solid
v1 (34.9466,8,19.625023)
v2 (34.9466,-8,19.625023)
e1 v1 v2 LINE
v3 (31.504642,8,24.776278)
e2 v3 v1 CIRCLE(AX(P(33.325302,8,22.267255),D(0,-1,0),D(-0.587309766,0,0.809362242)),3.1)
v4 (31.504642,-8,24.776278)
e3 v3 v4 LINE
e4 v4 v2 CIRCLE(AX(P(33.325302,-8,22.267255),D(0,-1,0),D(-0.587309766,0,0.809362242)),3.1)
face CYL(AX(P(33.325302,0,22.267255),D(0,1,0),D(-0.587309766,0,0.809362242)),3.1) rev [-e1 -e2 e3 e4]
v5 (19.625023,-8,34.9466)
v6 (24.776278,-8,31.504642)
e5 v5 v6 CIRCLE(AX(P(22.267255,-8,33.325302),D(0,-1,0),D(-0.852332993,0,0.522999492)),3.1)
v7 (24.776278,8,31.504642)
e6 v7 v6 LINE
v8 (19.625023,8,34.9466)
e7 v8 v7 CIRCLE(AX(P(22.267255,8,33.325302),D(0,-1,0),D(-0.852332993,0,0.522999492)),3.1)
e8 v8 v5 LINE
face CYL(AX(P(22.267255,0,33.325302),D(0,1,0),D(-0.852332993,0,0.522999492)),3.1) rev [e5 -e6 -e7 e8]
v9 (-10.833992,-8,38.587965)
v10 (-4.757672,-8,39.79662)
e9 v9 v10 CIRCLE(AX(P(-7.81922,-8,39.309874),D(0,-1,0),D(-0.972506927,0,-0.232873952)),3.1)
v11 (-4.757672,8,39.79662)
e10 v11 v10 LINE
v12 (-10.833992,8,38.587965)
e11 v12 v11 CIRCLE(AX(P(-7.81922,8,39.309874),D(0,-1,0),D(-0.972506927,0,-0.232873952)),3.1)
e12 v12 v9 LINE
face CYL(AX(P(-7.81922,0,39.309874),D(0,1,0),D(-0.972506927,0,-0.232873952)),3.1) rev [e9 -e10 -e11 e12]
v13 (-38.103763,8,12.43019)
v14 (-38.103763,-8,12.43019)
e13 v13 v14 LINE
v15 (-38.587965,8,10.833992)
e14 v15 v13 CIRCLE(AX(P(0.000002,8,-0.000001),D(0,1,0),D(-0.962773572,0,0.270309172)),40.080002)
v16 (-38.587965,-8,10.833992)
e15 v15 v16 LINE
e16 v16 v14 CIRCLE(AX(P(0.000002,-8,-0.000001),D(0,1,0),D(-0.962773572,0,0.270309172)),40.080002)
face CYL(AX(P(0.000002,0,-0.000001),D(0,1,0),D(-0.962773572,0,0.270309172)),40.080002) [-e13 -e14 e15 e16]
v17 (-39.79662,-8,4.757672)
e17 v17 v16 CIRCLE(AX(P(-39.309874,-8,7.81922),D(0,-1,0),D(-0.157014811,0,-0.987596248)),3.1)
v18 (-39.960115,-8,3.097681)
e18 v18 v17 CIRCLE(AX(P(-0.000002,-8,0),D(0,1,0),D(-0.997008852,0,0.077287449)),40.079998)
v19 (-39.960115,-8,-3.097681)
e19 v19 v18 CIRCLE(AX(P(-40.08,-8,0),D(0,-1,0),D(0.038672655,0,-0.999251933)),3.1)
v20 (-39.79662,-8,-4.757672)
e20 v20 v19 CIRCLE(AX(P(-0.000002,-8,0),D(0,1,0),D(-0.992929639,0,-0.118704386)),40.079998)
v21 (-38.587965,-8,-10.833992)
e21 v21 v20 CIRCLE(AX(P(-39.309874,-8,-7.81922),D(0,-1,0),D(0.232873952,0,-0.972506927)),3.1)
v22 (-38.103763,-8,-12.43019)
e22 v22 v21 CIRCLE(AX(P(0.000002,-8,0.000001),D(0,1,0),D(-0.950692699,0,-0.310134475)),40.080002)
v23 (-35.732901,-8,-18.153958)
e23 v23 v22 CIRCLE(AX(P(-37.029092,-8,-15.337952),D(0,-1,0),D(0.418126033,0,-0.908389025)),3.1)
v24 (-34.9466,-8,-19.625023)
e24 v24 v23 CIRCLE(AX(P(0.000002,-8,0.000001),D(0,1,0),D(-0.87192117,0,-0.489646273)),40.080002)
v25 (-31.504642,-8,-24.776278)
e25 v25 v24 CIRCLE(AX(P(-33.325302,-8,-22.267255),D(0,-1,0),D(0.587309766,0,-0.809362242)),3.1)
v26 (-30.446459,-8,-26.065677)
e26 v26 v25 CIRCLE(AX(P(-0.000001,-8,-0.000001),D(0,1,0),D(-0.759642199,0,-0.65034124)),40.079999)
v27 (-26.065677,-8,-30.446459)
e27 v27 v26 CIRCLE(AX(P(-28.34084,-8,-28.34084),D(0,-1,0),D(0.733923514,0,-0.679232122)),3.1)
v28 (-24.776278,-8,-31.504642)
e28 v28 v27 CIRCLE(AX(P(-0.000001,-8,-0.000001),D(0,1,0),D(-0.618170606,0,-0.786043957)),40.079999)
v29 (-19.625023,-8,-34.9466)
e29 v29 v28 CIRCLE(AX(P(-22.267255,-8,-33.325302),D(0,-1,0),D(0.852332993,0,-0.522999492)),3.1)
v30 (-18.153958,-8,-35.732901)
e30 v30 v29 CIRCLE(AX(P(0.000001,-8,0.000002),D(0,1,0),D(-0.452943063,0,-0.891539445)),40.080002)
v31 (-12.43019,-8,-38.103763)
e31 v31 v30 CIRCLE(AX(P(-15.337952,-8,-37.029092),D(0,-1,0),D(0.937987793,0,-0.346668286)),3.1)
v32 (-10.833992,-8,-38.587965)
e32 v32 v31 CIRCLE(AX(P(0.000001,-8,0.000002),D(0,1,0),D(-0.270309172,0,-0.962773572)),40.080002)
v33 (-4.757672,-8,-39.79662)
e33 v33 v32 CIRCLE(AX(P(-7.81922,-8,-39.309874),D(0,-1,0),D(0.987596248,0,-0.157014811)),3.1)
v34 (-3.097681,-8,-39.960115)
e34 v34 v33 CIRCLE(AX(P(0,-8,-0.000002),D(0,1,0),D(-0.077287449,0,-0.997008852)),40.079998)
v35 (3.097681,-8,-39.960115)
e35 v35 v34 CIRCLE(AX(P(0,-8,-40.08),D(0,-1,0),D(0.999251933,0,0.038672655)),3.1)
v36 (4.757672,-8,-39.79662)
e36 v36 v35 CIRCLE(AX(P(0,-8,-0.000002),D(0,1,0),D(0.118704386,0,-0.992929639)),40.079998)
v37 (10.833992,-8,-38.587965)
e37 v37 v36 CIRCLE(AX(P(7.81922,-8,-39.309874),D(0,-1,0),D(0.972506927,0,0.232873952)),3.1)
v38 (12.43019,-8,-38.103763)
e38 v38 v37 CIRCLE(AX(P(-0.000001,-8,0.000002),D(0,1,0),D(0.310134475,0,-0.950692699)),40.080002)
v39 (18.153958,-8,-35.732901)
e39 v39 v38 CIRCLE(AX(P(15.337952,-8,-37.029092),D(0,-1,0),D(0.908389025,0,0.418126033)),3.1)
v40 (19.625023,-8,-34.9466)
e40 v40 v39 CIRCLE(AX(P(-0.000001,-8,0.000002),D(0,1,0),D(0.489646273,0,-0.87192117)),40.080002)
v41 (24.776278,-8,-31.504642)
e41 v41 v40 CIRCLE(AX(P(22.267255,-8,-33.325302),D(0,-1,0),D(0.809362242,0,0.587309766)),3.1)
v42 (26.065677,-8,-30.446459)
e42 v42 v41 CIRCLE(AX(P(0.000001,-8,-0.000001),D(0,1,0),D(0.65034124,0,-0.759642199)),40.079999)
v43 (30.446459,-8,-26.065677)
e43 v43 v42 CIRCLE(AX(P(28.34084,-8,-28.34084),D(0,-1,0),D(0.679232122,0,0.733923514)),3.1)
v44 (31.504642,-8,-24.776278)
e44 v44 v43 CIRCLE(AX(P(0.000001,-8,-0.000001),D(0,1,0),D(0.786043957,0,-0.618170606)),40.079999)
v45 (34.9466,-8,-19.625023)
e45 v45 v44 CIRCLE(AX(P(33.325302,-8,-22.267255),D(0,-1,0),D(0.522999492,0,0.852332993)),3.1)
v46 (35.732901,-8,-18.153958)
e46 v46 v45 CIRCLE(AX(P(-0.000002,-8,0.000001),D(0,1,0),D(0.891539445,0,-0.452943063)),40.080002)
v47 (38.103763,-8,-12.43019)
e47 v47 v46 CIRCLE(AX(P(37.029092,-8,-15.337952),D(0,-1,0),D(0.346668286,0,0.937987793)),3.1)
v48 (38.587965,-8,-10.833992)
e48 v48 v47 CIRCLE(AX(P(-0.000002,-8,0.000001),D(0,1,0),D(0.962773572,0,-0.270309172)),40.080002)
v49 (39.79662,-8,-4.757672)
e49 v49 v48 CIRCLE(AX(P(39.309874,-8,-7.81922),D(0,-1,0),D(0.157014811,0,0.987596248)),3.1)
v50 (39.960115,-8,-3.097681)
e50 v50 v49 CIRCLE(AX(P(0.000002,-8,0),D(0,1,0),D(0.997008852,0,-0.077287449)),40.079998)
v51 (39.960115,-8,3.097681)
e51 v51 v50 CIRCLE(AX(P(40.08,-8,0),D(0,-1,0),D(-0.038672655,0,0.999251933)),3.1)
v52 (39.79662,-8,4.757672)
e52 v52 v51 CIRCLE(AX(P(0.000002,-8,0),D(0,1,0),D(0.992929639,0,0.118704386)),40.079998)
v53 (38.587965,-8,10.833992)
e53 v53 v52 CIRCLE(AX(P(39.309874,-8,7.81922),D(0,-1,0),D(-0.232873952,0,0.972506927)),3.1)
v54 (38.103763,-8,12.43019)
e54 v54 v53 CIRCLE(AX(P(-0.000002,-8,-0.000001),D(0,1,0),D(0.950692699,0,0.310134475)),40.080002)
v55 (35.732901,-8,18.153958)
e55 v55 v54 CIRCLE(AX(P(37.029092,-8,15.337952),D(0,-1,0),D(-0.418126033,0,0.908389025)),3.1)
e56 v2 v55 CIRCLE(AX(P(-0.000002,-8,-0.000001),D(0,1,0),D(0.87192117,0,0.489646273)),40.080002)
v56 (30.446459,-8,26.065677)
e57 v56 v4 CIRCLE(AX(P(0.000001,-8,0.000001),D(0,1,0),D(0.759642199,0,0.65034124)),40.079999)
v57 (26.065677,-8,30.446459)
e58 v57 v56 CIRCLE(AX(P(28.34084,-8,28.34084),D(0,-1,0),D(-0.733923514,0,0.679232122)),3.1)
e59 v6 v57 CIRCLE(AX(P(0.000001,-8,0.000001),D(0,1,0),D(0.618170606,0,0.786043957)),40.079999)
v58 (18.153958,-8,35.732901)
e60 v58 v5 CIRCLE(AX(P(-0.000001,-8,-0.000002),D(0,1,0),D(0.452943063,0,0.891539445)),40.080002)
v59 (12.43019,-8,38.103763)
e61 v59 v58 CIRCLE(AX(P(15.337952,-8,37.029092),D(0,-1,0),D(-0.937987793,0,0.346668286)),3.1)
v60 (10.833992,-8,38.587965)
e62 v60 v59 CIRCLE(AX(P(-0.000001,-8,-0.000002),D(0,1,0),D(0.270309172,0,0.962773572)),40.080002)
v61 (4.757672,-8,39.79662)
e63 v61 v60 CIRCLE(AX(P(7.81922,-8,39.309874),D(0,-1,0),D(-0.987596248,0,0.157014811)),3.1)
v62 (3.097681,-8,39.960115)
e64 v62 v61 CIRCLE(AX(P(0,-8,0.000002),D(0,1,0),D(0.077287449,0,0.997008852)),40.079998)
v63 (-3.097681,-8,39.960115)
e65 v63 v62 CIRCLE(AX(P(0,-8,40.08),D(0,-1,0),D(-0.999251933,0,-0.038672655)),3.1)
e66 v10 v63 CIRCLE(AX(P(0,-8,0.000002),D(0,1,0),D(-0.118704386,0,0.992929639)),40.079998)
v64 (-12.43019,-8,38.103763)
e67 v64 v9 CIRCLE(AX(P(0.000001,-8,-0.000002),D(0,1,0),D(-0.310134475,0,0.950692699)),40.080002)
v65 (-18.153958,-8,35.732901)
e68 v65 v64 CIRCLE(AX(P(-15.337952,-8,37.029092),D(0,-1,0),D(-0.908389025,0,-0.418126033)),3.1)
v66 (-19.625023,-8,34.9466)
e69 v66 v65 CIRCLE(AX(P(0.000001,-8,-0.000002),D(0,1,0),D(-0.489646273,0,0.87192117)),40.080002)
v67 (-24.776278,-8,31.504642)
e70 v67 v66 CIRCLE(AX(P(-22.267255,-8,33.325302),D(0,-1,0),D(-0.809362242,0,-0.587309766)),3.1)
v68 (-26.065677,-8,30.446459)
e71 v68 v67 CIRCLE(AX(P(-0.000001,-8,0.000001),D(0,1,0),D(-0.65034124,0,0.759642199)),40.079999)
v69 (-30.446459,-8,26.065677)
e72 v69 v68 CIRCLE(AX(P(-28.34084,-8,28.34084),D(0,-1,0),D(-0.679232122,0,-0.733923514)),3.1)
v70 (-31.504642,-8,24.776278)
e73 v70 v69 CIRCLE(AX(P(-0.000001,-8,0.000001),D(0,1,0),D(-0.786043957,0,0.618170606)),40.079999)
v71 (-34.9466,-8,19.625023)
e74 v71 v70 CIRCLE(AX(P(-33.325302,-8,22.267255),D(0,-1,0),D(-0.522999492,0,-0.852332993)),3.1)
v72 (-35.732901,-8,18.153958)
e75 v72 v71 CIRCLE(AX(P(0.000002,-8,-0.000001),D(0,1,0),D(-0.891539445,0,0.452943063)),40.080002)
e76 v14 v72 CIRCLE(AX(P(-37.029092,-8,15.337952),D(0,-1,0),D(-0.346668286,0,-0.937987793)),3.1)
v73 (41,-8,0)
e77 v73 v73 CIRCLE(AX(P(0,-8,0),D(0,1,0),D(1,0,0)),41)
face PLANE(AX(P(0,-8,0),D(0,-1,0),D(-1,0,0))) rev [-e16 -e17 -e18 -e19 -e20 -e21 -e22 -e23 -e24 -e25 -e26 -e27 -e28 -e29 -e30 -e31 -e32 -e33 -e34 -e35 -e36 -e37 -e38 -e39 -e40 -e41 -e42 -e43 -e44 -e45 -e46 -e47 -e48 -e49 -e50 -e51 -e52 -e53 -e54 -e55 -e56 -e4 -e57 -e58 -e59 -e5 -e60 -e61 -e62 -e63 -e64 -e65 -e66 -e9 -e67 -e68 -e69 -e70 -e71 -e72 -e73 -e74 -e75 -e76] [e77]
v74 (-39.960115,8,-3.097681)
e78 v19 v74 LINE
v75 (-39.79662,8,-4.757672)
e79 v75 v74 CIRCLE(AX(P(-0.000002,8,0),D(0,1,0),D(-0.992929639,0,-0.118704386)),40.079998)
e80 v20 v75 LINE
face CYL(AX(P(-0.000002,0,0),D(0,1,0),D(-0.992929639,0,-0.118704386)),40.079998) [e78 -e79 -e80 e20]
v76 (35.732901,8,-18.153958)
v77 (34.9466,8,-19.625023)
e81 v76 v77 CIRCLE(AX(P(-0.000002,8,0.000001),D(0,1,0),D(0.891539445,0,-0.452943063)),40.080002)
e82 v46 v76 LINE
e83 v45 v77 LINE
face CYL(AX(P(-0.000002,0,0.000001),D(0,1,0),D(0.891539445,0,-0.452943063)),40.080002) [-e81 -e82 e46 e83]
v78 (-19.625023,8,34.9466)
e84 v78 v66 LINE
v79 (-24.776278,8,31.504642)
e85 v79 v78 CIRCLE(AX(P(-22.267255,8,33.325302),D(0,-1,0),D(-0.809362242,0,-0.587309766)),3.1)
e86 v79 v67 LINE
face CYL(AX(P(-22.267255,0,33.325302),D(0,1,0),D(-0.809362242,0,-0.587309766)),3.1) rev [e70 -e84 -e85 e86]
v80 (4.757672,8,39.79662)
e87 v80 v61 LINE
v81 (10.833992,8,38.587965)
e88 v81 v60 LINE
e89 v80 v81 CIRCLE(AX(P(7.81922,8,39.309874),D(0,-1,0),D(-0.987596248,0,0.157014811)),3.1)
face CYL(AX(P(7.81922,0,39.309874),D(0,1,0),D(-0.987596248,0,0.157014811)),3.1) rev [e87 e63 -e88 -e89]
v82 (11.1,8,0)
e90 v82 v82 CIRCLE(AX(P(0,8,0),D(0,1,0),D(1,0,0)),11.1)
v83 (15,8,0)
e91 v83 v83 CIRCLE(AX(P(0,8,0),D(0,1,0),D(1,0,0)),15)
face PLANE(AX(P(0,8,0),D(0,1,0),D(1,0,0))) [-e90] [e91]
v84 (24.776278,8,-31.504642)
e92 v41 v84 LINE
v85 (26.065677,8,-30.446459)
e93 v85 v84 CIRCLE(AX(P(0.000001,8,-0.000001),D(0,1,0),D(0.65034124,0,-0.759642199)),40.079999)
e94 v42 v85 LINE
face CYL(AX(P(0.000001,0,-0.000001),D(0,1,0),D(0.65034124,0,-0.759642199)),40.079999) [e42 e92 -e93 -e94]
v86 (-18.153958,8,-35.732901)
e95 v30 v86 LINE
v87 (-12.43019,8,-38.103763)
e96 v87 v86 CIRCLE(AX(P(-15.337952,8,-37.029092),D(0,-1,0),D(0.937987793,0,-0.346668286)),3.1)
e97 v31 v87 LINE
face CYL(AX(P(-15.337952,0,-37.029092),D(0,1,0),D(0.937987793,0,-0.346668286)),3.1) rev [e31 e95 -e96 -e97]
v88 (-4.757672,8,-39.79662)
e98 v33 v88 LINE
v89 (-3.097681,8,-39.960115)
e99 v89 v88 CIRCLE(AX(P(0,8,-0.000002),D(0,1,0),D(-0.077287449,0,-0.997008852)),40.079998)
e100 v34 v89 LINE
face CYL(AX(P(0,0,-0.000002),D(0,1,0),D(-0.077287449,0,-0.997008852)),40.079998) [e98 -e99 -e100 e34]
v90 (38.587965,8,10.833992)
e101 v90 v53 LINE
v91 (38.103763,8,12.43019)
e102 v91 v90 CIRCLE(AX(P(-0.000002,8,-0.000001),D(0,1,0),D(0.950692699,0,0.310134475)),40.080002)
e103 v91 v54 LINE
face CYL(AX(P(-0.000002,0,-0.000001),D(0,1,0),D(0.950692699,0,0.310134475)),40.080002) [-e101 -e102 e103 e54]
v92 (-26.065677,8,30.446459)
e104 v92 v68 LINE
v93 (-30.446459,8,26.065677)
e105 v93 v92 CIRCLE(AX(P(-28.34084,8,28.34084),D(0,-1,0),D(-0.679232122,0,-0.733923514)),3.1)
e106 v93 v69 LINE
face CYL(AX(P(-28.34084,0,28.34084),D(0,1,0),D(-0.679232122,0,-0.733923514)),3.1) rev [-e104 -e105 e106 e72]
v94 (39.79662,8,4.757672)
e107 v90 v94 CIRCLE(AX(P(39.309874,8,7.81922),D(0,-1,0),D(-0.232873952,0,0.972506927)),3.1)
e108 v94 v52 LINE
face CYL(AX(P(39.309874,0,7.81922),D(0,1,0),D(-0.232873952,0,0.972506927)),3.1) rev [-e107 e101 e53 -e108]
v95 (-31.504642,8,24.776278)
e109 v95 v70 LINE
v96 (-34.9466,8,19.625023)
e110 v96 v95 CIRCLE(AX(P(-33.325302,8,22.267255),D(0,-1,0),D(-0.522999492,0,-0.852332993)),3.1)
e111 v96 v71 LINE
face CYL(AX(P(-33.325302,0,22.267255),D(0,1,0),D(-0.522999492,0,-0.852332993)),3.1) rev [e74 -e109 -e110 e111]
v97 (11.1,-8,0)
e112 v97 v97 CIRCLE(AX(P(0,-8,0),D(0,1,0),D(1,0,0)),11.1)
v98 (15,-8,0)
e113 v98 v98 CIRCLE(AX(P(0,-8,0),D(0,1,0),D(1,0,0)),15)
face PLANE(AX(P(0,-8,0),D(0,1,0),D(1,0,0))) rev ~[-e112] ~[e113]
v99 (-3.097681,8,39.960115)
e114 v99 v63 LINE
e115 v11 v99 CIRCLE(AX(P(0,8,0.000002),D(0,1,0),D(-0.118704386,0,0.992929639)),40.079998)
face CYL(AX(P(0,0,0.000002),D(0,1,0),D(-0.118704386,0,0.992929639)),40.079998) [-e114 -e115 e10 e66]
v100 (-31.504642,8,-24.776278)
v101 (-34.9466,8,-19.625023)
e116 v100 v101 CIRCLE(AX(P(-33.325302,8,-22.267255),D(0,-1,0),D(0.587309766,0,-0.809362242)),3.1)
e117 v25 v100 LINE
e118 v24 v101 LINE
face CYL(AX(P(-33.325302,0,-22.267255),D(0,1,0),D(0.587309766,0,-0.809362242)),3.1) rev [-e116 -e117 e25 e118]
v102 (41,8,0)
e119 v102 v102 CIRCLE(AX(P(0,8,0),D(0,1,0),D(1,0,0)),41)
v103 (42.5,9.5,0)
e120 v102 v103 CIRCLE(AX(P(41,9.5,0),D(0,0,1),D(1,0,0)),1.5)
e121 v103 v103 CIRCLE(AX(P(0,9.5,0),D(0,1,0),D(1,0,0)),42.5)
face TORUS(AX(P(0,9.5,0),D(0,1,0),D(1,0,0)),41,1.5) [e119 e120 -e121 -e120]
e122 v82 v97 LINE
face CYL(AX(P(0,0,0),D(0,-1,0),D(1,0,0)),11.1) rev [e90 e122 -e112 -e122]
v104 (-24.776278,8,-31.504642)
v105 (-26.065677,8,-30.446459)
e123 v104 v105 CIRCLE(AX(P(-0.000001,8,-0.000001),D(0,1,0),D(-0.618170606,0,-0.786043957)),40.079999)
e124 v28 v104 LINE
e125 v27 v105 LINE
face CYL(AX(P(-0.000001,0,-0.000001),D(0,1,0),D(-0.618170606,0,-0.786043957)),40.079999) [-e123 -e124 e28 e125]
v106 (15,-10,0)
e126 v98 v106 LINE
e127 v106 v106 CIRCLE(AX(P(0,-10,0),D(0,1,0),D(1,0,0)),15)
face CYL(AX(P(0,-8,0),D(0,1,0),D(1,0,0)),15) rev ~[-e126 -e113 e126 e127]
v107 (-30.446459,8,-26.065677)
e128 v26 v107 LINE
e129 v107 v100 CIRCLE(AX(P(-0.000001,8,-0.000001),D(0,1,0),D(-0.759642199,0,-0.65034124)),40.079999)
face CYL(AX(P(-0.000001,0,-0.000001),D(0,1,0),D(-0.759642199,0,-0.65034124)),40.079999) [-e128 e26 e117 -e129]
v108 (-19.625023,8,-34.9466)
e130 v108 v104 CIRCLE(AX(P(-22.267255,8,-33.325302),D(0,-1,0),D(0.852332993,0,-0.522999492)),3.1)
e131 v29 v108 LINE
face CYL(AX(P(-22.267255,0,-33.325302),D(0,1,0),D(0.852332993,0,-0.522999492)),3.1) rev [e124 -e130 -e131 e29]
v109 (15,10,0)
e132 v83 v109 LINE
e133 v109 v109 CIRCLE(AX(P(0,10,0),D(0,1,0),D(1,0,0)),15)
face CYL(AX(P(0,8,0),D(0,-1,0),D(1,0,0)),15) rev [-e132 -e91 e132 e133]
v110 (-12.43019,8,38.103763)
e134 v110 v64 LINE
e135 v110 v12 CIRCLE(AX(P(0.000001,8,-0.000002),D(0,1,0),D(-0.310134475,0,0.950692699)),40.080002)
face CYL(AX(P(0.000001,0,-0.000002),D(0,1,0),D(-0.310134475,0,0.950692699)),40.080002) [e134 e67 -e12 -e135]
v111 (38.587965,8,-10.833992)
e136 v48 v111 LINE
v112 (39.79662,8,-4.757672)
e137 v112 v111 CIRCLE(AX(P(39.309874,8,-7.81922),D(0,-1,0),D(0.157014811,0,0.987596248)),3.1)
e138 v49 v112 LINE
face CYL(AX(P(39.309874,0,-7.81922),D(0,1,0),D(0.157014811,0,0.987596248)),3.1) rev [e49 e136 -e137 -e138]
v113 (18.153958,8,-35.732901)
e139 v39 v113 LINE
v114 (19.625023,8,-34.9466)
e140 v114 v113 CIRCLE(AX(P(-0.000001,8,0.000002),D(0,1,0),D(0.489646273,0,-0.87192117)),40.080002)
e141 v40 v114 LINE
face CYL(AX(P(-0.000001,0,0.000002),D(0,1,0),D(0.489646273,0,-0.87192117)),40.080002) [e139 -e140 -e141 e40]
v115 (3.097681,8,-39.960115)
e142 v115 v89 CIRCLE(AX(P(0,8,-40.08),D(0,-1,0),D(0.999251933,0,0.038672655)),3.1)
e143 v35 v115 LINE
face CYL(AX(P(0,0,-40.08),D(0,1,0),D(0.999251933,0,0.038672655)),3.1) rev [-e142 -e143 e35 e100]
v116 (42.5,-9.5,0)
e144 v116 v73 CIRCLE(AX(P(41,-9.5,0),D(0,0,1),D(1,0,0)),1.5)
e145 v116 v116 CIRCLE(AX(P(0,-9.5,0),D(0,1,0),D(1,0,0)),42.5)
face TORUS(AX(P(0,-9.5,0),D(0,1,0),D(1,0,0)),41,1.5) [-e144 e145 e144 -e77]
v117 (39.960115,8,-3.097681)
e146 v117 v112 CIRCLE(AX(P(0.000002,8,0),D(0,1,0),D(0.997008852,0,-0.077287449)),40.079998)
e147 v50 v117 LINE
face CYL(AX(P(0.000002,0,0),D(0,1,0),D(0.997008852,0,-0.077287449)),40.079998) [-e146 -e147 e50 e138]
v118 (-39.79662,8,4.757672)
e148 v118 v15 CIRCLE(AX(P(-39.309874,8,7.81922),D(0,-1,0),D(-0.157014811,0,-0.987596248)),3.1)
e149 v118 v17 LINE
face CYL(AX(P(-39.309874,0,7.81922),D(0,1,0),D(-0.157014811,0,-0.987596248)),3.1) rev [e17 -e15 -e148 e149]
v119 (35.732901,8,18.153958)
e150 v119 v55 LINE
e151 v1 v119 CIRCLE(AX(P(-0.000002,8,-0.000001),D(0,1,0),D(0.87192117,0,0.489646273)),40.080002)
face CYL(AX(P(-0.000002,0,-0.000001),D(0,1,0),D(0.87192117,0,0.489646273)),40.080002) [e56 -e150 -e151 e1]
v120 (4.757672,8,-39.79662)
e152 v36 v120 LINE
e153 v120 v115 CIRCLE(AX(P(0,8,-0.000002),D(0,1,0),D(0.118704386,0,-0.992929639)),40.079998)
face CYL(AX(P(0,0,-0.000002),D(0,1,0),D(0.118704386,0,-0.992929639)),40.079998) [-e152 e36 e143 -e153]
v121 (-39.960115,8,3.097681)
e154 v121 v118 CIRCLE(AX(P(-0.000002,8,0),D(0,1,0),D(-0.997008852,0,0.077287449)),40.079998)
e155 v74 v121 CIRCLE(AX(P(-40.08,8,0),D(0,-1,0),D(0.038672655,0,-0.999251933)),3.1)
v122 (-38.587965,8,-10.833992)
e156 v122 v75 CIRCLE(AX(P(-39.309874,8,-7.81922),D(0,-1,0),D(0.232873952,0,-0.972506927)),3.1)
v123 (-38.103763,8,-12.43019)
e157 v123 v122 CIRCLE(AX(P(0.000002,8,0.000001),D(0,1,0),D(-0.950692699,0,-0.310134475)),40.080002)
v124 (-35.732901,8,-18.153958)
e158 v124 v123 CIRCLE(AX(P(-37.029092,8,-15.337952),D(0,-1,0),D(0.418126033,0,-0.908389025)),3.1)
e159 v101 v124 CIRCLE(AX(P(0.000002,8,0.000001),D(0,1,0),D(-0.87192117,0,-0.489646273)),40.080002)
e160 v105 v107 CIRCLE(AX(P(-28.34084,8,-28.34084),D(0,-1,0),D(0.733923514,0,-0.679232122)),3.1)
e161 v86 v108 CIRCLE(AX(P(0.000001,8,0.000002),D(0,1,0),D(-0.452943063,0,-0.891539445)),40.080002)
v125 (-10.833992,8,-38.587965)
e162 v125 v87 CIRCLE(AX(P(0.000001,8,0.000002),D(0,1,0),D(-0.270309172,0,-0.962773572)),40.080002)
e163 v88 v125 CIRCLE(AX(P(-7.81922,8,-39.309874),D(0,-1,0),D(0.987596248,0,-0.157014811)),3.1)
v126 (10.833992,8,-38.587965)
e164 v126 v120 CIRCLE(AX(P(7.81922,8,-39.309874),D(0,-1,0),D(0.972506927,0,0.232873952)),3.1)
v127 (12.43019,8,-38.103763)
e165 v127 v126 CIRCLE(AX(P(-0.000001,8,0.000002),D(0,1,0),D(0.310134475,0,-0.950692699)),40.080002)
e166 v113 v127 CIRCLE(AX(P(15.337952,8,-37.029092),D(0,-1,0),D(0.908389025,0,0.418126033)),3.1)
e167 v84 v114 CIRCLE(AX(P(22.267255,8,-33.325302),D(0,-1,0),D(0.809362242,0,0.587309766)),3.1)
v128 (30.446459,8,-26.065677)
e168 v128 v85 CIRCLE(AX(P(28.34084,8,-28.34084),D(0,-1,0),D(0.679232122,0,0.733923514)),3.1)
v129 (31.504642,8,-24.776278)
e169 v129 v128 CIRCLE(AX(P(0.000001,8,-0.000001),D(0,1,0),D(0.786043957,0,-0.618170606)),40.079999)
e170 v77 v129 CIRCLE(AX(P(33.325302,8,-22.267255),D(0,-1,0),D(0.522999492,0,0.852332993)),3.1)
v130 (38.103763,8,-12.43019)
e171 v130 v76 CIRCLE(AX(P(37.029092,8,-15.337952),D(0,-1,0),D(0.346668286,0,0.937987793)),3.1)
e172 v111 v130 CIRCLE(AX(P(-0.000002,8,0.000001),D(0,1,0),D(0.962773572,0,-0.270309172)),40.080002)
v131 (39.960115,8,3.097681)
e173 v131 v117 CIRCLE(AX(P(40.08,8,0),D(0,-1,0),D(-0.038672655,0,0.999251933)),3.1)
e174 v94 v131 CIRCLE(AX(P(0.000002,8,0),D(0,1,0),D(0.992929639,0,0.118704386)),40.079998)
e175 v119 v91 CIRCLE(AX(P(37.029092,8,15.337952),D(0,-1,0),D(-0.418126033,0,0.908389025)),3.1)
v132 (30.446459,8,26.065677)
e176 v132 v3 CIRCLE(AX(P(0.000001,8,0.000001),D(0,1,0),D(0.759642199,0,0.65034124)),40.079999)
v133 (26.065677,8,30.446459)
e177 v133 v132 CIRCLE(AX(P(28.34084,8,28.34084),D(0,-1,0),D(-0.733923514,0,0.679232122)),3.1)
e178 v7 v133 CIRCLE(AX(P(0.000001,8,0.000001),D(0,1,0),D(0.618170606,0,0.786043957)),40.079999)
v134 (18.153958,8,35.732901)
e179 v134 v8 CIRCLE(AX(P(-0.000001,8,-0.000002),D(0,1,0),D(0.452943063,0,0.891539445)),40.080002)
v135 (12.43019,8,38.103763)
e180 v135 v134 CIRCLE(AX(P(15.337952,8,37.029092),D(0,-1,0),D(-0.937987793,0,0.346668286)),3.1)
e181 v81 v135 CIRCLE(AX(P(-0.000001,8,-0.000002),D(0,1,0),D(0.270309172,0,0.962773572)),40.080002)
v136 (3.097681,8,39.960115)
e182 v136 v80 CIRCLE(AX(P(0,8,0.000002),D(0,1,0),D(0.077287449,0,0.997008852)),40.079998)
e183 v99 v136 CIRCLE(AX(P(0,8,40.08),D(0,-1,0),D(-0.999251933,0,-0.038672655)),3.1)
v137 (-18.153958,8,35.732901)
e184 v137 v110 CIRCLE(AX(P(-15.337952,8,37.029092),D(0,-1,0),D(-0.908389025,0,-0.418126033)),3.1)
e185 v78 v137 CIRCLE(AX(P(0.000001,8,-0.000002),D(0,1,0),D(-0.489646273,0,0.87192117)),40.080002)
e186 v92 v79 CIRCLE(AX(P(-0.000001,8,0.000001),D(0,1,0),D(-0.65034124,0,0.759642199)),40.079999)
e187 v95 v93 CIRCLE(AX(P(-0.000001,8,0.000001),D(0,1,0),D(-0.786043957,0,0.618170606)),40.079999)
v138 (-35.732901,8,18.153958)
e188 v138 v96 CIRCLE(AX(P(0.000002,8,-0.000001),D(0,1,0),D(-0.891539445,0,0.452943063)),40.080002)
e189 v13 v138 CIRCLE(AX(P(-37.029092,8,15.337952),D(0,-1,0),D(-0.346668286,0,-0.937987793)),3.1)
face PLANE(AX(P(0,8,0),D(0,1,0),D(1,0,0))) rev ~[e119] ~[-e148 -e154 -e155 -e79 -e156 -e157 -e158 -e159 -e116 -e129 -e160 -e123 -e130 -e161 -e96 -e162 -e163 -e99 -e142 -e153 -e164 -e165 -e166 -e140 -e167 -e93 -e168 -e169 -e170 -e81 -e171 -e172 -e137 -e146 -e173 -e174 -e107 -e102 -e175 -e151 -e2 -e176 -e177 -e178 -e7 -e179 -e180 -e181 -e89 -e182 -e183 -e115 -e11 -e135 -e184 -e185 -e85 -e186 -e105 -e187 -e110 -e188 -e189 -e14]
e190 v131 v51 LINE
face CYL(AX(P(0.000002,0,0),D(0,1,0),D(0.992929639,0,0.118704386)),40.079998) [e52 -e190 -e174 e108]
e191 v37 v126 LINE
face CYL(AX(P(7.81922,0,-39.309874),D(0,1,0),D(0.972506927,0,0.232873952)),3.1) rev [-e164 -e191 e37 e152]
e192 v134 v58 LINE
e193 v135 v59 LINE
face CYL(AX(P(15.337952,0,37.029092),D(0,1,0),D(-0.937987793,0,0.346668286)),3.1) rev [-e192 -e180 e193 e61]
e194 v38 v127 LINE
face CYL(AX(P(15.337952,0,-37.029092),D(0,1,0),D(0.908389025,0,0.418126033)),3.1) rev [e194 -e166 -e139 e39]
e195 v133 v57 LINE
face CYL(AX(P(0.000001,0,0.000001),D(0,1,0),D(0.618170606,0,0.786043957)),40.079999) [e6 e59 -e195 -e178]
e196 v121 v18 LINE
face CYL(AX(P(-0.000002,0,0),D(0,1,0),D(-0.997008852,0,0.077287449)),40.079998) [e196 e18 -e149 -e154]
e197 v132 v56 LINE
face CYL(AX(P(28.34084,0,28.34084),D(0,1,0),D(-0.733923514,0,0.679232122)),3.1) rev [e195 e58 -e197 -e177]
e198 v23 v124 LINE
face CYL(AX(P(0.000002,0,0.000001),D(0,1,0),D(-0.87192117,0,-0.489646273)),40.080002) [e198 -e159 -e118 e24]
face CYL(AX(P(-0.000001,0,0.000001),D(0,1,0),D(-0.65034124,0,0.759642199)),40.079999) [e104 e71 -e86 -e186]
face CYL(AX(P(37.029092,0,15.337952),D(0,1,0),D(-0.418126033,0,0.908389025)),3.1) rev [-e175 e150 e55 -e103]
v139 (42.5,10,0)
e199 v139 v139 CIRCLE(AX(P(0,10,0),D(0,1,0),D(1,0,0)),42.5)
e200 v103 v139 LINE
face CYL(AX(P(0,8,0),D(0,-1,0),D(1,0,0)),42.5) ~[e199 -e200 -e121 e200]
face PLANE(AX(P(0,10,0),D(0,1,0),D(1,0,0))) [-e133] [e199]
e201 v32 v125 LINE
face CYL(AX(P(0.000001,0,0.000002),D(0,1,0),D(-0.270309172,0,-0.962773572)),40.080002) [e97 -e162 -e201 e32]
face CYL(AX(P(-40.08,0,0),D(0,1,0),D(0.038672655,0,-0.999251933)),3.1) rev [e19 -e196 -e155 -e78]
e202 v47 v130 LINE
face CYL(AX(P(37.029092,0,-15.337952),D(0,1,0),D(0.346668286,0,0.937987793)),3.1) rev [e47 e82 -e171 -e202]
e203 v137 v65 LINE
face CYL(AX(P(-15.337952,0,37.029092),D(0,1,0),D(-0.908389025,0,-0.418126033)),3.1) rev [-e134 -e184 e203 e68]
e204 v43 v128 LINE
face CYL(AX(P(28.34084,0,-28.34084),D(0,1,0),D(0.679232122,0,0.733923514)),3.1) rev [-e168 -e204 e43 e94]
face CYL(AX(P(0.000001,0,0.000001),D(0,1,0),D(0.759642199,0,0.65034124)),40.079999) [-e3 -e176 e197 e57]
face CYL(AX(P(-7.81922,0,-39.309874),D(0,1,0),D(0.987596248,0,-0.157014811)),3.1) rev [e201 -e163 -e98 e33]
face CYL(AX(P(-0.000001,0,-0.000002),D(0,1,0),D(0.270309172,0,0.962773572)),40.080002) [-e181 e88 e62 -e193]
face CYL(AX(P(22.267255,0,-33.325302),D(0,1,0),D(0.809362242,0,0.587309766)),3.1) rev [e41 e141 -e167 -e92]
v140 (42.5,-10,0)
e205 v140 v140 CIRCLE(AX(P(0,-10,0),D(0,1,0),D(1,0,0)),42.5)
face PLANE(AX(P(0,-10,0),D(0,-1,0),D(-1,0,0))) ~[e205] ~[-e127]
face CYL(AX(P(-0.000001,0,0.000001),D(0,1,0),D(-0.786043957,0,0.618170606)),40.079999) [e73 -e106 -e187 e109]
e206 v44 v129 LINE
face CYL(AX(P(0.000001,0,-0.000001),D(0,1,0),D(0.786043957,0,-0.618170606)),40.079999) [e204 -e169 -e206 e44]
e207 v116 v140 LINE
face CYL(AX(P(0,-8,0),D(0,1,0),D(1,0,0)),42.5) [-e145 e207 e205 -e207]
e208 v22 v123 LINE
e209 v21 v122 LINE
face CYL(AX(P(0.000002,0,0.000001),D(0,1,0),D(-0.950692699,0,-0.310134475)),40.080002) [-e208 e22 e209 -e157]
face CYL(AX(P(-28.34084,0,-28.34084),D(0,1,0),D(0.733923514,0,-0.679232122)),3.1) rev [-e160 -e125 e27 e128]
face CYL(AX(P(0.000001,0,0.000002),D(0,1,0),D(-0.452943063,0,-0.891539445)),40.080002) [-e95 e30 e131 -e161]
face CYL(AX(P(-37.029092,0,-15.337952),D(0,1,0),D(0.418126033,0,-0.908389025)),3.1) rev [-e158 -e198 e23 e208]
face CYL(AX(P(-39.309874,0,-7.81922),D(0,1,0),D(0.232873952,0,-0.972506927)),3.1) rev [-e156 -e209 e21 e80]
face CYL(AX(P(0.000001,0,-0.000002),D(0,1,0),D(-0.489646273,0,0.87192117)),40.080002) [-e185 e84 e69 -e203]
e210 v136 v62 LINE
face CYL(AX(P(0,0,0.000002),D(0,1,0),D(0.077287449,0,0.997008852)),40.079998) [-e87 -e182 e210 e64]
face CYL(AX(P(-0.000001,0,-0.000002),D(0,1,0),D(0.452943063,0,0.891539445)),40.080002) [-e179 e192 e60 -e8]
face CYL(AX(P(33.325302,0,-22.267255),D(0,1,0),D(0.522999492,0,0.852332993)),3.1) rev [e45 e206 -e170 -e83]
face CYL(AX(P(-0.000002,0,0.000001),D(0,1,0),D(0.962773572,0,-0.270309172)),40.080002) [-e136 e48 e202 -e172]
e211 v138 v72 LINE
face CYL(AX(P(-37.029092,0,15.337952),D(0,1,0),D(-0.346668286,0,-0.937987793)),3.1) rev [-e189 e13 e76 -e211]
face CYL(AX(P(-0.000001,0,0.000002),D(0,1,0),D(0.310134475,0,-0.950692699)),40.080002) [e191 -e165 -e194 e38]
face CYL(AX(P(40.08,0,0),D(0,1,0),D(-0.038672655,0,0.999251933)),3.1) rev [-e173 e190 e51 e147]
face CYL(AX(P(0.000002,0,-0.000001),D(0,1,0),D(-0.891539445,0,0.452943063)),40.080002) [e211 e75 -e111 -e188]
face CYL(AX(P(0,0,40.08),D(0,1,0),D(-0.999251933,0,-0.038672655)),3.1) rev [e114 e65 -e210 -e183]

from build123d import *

# Parameters (mm, degrees)
SKETCH1_R           = 11.1
BOSS_EXTRUDE1_DEPTH = 8
SKETCH2_R           = 42.5
SKETCH2_R_2         = 15
BOSS_EXTRUDE2_DEPTH = 2
FILLET1_R           = 1.5


with BuildPart() as part:
    # Sketch1 → Boss-Extrude1 (new body, symmetric)
    with BuildSketch(Plane(origin=(0, 0, 0), x_dir=(1, 0, 0), z_dir=(0, 1, 0))):
        with BuildLine():
            ThreePointArc((39.96011477, -3.097680993), (36.98, 0), (39.96011477, 3.097680993))
            ThreePointArc((39.96011477, 3.097680993), (39.887003845, 3.928526984), (39.796619952, 4.757671737))
            ThreePointArc((39.796619952, 4.757671737), (36.269439669, 7.214440108), (38.587964788, 10.833991579))
            ThreePointArc((38.587964788, 10.833991579), (38.354168656, 11.634609864), (38.103763348, 12.430189811))
            ThreePointArc((38.103763348, 12.430189811), (34.165065112, 14.151633329), (35.732900959, 18.153957945))
            ThreePointArc((35.732900959, 18.153957945), (35.347404275, 18.893581212), (34.946600487, 19.625022661))
            ThreePointArc((34.946600487, 19.625022661), (30.747746263, 20.544987217), (31.504641785, 24.776277888))
            ThreePointArc((31.504641785, 24.776277888), (30.982258971, 25.426482829), (30.446459367, 26.065676895))
            ThreePointArc((30.446459367, 26.065676895), (26.148808768, 26.148808768), (26.065676895, 30.446459367))
            ThreePointArc((26.065676895, 30.446459367), (25.426482829, 30.982258971), (24.776277888, 31.504641785))
            ThreePointArc((24.776277888, 31.504641785), (20.544987217, 30.747746263), (19.625022661, 34.946600487))
            ThreePointArc((19.625022661, 34.946600487), (18.893581212, 35.347404275), (18.153957945, 35.732900959))
            ThreePointArc((18.153957945, 35.732900959), (14.151633329, 34.165065112), (12.430189811, 38.103763348))
            ThreePointArc((12.430189811, 38.103763348), (11.634609864, 38.354168656), (10.833991579, 38.587964788))
            ThreePointArc((10.833991579, 38.587964788), (7.214440108, 36.269439669), (4.757671737, 39.796619952))
            ThreePointArc((4.757671737, 39.796619952), (3.928526984, 39.887003845), (3.097680993, 39.96011477))
            ThreePointArc((3.097680993, 39.96011477), (0, 36.98), (-3.097680993, 39.96011477))
            ThreePointArc((-3.097680993, 39.96011477), (-3.928526984, 39.887003845), (-4.757671737, 39.796619952))
            ThreePointArc((-4.757671737, 39.796619952), (-7.214440108, 36.269439669), (-10.833991579, 38.587964788))
            ThreePointArc((-10.833991579, 38.587964788), (-11.634609864, 38.354168656), (-12.430189811, 38.103763348))
            ThreePointArc((-12.430189811, 38.103763348), (-14.151633329, 34.165065112), (-18.153957945, 35.732900959))
            ThreePointArc((-18.153957945, 35.732900959), (-18.893581212, 35.347404275), (-19.625022661, 34.946600487))
            ThreePointArc((-19.625022661, 34.946600487), (-20.544987217, 30.747746263), (-24.776277888, 31.504641785))
            ThreePointArc((-24.776277888, 31.504641785), (-25.426482829, 30.982258971), (-26.065676895, 30.446459367))
            ThreePointArc((-26.065676895, 30.446459367), (-26.148808768, 26.148808768), (-30.446459367, 26.065676895))
            ThreePointArc((-30.446459367, 26.065676895), (-30.982258971, 25.426482829), (-31.504641785, 24.776277888))
            ThreePointArc((-31.504641785, 24.776277888), (-30.747746263, 20.544987217), (-34.946600487, 19.625022661))
            ThreePointArc((-34.946600487, 19.625022661), (-35.347404275, 18.893581212), (-35.732900959, 18.153957945))
            ThreePointArc((-35.732900959, 18.153957945), (-34.165065112, 14.151633329), (-38.103763348, 12.430189811))
            ThreePointArc((-38.103763348, 12.430189811), (-38.354168656, 11.634609864), (-38.587964788, 10.833991579))
            ThreePointArc((-38.587964788, 10.833991579), (-36.269439669, 7.214440108), (-39.796619952, 4.757671737))
            ThreePointArc((-39.796619952, 4.757671737), (-39.887003845, 3.928526984), (-39.96011477, 3.097680993))
            ThreePointArc((-39.96011477, 3.097680993), (-36.98, 0), (-39.96011477, -3.097680993))
            ThreePointArc((-39.96011477, -3.097680993), (-39.887003845, -3.928526984), (-39.796619952, -4.757671737))
            ThreePointArc((-39.796619952, -4.757671737), (-36.269439669, -7.214440108), (-38.587964788, -10.833991579))
            ThreePointArc((-38.587964788, -10.833991579), (-38.354168656, -11.634609864), (-38.103763348, -12.430189811))
            ThreePointArc((-38.103763348, -12.430189811), (-34.165065112, -14.151633329), (-35.732900959, -18.153957945))
            ThreePointArc((-35.732900959, -18.153957945), (-35.347404275, -18.893581212), (-34.946600487, -19.625022661))
            ThreePointArc((-34.946600487, -19.625022661), (-30.747746263, -20.544987217), (-31.504641785, -24.776277888))
            ThreePointArc((-31.504641785, -24.776277888), (-30.982258971, -25.426482829), (-30.446459367, -26.065676895))
            ThreePointArc((-30.446459367, -26.065676895), (-26.148808768, -26.148808768), (-26.065676895, -30.446459367))
            ThreePointArc((-26.065676895, -30.446459367), (-25.426482829, -30.982258971), (-24.776277888, -31.504641785))
            ThreePointArc((-24.776277888, -31.504641785), (-20.544987217, -30.747746263), (-19.625022661, -34.946600487))
            ThreePointArc((-19.625022661, -34.946600487), (-18.893581212, -35.347404275), (-18.153957945, -35.732900959))
            ThreePointArc((-18.153957945, -35.732900959), (-14.151633329, -34.165065112), (-12.430189811, -38.103763348))
            ThreePointArc((-12.430189811, -38.103763348), (-11.634609864, -38.354168656), (-10.833991579, -38.587964788))
            ThreePointArc((-10.833991579, -38.587964788), (-7.214440108, -36.269439669), (-4.757671737, -39.796619952))
            ThreePointArc((-4.757671737, -39.796619952), (-3.928526984, -39.887003845), (-3.097680993, -39.96011477))
            ThreePointArc((-3.097680993, -39.96011477), (0, -36.98), (3.097680993, -39.96011477))
            ThreePointArc((3.097680993, -39.96011477), (3.928526984, -39.887003845), (4.757671737, -39.796619952))
            ThreePointArc((4.757671737, -39.796619952), (7.214440108, -36.269439669), (10.833991579, -38.587964788))
            ThreePointArc((10.833991579, -38.587964788), (11.634609864, -38.354168656), (12.430189811, -38.103763348))
            ThreePointArc((12.430189811, -38.103763348), (14.151633329, -34.165065112), (18.153957945, -35.732900959))
            ThreePointArc((18.153957945, -35.732900959), (18.893581212, -35.347404275), (19.625022661, -34.946600487))
            ThreePointArc((19.625022661, -34.946600487), (20.544987217, -30.747746263), (24.776277888, -31.504641785))
            ThreePointArc((24.776277888, -31.504641785), (25.426482829, -30.982258971), (26.065676895, -30.446459367))
            ThreePointArc((26.065676895, -30.446459367), (26.148808768, -26.148808768), (30.446459367, -26.065676895))
            ThreePointArc((30.446459367, -26.065676895), (30.982258971, -25.426482829), (31.504641785, -24.776277888))
            ThreePointArc((31.504641785, -24.776277888), (30.747746263, -20.544987217), (34.946600487, -19.625022661))
            ThreePointArc((34.946600487, -19.625022661), (35.347404275, -18.893581212), (35.732900959, -18.153957945))
            ThreePointArc((35.732900959, -18.153957945), (34.165065112, -14.151633329), (38.103763348, -12.430189811))
            ThreePointArc((38.103763348, -12.430189811), (38.354168656, -11.634609864), (38.587964788, -10.833991579))
            ThreePointArc((38.587964788, -10.833991579), (36.269439669, -7.214440108), (39.796619952, -4.757671737))
            ThreePointArc((39.796619952, -4.757671737), (39.887003845, -3.928526984), (39.96011477, -3.097680993))
        make_face()
        Circle(SKETCH1_R, mode=Mode.SUBTRACT)
    extrude(amount=BOSS_EXTRUDE1_DEPTH, both=True)

    # Sketch2 → Boss-Extrude2 (add)
    with BuildSketch(Plane(origin=(0, 8, 0), x_dir=(1, 0, 0), z_dir=(0, 1, 0))):
        Circle(SKETCH2_R)
        Circle(SKETCH2_R_2, mode=Mode.SUBTRACT)
    boss_extrude2 = extrude(amount=BOSS_EXTRUDE2_DEPTH)

    # Mirror1: Boss-Extrude2 across plane
    add(boss_extrude2.mirror(Plane.ZX))

    # Fillet1
    fillet1_edges = [part.edges().sort_by_distance(p)[0] for p in [
        (-42.5, 8, 0),
        (-42.5, -8, 0),
    ]]
    fillet(fillet1_edges, radius=FILLET1_R)


solid = part.part
